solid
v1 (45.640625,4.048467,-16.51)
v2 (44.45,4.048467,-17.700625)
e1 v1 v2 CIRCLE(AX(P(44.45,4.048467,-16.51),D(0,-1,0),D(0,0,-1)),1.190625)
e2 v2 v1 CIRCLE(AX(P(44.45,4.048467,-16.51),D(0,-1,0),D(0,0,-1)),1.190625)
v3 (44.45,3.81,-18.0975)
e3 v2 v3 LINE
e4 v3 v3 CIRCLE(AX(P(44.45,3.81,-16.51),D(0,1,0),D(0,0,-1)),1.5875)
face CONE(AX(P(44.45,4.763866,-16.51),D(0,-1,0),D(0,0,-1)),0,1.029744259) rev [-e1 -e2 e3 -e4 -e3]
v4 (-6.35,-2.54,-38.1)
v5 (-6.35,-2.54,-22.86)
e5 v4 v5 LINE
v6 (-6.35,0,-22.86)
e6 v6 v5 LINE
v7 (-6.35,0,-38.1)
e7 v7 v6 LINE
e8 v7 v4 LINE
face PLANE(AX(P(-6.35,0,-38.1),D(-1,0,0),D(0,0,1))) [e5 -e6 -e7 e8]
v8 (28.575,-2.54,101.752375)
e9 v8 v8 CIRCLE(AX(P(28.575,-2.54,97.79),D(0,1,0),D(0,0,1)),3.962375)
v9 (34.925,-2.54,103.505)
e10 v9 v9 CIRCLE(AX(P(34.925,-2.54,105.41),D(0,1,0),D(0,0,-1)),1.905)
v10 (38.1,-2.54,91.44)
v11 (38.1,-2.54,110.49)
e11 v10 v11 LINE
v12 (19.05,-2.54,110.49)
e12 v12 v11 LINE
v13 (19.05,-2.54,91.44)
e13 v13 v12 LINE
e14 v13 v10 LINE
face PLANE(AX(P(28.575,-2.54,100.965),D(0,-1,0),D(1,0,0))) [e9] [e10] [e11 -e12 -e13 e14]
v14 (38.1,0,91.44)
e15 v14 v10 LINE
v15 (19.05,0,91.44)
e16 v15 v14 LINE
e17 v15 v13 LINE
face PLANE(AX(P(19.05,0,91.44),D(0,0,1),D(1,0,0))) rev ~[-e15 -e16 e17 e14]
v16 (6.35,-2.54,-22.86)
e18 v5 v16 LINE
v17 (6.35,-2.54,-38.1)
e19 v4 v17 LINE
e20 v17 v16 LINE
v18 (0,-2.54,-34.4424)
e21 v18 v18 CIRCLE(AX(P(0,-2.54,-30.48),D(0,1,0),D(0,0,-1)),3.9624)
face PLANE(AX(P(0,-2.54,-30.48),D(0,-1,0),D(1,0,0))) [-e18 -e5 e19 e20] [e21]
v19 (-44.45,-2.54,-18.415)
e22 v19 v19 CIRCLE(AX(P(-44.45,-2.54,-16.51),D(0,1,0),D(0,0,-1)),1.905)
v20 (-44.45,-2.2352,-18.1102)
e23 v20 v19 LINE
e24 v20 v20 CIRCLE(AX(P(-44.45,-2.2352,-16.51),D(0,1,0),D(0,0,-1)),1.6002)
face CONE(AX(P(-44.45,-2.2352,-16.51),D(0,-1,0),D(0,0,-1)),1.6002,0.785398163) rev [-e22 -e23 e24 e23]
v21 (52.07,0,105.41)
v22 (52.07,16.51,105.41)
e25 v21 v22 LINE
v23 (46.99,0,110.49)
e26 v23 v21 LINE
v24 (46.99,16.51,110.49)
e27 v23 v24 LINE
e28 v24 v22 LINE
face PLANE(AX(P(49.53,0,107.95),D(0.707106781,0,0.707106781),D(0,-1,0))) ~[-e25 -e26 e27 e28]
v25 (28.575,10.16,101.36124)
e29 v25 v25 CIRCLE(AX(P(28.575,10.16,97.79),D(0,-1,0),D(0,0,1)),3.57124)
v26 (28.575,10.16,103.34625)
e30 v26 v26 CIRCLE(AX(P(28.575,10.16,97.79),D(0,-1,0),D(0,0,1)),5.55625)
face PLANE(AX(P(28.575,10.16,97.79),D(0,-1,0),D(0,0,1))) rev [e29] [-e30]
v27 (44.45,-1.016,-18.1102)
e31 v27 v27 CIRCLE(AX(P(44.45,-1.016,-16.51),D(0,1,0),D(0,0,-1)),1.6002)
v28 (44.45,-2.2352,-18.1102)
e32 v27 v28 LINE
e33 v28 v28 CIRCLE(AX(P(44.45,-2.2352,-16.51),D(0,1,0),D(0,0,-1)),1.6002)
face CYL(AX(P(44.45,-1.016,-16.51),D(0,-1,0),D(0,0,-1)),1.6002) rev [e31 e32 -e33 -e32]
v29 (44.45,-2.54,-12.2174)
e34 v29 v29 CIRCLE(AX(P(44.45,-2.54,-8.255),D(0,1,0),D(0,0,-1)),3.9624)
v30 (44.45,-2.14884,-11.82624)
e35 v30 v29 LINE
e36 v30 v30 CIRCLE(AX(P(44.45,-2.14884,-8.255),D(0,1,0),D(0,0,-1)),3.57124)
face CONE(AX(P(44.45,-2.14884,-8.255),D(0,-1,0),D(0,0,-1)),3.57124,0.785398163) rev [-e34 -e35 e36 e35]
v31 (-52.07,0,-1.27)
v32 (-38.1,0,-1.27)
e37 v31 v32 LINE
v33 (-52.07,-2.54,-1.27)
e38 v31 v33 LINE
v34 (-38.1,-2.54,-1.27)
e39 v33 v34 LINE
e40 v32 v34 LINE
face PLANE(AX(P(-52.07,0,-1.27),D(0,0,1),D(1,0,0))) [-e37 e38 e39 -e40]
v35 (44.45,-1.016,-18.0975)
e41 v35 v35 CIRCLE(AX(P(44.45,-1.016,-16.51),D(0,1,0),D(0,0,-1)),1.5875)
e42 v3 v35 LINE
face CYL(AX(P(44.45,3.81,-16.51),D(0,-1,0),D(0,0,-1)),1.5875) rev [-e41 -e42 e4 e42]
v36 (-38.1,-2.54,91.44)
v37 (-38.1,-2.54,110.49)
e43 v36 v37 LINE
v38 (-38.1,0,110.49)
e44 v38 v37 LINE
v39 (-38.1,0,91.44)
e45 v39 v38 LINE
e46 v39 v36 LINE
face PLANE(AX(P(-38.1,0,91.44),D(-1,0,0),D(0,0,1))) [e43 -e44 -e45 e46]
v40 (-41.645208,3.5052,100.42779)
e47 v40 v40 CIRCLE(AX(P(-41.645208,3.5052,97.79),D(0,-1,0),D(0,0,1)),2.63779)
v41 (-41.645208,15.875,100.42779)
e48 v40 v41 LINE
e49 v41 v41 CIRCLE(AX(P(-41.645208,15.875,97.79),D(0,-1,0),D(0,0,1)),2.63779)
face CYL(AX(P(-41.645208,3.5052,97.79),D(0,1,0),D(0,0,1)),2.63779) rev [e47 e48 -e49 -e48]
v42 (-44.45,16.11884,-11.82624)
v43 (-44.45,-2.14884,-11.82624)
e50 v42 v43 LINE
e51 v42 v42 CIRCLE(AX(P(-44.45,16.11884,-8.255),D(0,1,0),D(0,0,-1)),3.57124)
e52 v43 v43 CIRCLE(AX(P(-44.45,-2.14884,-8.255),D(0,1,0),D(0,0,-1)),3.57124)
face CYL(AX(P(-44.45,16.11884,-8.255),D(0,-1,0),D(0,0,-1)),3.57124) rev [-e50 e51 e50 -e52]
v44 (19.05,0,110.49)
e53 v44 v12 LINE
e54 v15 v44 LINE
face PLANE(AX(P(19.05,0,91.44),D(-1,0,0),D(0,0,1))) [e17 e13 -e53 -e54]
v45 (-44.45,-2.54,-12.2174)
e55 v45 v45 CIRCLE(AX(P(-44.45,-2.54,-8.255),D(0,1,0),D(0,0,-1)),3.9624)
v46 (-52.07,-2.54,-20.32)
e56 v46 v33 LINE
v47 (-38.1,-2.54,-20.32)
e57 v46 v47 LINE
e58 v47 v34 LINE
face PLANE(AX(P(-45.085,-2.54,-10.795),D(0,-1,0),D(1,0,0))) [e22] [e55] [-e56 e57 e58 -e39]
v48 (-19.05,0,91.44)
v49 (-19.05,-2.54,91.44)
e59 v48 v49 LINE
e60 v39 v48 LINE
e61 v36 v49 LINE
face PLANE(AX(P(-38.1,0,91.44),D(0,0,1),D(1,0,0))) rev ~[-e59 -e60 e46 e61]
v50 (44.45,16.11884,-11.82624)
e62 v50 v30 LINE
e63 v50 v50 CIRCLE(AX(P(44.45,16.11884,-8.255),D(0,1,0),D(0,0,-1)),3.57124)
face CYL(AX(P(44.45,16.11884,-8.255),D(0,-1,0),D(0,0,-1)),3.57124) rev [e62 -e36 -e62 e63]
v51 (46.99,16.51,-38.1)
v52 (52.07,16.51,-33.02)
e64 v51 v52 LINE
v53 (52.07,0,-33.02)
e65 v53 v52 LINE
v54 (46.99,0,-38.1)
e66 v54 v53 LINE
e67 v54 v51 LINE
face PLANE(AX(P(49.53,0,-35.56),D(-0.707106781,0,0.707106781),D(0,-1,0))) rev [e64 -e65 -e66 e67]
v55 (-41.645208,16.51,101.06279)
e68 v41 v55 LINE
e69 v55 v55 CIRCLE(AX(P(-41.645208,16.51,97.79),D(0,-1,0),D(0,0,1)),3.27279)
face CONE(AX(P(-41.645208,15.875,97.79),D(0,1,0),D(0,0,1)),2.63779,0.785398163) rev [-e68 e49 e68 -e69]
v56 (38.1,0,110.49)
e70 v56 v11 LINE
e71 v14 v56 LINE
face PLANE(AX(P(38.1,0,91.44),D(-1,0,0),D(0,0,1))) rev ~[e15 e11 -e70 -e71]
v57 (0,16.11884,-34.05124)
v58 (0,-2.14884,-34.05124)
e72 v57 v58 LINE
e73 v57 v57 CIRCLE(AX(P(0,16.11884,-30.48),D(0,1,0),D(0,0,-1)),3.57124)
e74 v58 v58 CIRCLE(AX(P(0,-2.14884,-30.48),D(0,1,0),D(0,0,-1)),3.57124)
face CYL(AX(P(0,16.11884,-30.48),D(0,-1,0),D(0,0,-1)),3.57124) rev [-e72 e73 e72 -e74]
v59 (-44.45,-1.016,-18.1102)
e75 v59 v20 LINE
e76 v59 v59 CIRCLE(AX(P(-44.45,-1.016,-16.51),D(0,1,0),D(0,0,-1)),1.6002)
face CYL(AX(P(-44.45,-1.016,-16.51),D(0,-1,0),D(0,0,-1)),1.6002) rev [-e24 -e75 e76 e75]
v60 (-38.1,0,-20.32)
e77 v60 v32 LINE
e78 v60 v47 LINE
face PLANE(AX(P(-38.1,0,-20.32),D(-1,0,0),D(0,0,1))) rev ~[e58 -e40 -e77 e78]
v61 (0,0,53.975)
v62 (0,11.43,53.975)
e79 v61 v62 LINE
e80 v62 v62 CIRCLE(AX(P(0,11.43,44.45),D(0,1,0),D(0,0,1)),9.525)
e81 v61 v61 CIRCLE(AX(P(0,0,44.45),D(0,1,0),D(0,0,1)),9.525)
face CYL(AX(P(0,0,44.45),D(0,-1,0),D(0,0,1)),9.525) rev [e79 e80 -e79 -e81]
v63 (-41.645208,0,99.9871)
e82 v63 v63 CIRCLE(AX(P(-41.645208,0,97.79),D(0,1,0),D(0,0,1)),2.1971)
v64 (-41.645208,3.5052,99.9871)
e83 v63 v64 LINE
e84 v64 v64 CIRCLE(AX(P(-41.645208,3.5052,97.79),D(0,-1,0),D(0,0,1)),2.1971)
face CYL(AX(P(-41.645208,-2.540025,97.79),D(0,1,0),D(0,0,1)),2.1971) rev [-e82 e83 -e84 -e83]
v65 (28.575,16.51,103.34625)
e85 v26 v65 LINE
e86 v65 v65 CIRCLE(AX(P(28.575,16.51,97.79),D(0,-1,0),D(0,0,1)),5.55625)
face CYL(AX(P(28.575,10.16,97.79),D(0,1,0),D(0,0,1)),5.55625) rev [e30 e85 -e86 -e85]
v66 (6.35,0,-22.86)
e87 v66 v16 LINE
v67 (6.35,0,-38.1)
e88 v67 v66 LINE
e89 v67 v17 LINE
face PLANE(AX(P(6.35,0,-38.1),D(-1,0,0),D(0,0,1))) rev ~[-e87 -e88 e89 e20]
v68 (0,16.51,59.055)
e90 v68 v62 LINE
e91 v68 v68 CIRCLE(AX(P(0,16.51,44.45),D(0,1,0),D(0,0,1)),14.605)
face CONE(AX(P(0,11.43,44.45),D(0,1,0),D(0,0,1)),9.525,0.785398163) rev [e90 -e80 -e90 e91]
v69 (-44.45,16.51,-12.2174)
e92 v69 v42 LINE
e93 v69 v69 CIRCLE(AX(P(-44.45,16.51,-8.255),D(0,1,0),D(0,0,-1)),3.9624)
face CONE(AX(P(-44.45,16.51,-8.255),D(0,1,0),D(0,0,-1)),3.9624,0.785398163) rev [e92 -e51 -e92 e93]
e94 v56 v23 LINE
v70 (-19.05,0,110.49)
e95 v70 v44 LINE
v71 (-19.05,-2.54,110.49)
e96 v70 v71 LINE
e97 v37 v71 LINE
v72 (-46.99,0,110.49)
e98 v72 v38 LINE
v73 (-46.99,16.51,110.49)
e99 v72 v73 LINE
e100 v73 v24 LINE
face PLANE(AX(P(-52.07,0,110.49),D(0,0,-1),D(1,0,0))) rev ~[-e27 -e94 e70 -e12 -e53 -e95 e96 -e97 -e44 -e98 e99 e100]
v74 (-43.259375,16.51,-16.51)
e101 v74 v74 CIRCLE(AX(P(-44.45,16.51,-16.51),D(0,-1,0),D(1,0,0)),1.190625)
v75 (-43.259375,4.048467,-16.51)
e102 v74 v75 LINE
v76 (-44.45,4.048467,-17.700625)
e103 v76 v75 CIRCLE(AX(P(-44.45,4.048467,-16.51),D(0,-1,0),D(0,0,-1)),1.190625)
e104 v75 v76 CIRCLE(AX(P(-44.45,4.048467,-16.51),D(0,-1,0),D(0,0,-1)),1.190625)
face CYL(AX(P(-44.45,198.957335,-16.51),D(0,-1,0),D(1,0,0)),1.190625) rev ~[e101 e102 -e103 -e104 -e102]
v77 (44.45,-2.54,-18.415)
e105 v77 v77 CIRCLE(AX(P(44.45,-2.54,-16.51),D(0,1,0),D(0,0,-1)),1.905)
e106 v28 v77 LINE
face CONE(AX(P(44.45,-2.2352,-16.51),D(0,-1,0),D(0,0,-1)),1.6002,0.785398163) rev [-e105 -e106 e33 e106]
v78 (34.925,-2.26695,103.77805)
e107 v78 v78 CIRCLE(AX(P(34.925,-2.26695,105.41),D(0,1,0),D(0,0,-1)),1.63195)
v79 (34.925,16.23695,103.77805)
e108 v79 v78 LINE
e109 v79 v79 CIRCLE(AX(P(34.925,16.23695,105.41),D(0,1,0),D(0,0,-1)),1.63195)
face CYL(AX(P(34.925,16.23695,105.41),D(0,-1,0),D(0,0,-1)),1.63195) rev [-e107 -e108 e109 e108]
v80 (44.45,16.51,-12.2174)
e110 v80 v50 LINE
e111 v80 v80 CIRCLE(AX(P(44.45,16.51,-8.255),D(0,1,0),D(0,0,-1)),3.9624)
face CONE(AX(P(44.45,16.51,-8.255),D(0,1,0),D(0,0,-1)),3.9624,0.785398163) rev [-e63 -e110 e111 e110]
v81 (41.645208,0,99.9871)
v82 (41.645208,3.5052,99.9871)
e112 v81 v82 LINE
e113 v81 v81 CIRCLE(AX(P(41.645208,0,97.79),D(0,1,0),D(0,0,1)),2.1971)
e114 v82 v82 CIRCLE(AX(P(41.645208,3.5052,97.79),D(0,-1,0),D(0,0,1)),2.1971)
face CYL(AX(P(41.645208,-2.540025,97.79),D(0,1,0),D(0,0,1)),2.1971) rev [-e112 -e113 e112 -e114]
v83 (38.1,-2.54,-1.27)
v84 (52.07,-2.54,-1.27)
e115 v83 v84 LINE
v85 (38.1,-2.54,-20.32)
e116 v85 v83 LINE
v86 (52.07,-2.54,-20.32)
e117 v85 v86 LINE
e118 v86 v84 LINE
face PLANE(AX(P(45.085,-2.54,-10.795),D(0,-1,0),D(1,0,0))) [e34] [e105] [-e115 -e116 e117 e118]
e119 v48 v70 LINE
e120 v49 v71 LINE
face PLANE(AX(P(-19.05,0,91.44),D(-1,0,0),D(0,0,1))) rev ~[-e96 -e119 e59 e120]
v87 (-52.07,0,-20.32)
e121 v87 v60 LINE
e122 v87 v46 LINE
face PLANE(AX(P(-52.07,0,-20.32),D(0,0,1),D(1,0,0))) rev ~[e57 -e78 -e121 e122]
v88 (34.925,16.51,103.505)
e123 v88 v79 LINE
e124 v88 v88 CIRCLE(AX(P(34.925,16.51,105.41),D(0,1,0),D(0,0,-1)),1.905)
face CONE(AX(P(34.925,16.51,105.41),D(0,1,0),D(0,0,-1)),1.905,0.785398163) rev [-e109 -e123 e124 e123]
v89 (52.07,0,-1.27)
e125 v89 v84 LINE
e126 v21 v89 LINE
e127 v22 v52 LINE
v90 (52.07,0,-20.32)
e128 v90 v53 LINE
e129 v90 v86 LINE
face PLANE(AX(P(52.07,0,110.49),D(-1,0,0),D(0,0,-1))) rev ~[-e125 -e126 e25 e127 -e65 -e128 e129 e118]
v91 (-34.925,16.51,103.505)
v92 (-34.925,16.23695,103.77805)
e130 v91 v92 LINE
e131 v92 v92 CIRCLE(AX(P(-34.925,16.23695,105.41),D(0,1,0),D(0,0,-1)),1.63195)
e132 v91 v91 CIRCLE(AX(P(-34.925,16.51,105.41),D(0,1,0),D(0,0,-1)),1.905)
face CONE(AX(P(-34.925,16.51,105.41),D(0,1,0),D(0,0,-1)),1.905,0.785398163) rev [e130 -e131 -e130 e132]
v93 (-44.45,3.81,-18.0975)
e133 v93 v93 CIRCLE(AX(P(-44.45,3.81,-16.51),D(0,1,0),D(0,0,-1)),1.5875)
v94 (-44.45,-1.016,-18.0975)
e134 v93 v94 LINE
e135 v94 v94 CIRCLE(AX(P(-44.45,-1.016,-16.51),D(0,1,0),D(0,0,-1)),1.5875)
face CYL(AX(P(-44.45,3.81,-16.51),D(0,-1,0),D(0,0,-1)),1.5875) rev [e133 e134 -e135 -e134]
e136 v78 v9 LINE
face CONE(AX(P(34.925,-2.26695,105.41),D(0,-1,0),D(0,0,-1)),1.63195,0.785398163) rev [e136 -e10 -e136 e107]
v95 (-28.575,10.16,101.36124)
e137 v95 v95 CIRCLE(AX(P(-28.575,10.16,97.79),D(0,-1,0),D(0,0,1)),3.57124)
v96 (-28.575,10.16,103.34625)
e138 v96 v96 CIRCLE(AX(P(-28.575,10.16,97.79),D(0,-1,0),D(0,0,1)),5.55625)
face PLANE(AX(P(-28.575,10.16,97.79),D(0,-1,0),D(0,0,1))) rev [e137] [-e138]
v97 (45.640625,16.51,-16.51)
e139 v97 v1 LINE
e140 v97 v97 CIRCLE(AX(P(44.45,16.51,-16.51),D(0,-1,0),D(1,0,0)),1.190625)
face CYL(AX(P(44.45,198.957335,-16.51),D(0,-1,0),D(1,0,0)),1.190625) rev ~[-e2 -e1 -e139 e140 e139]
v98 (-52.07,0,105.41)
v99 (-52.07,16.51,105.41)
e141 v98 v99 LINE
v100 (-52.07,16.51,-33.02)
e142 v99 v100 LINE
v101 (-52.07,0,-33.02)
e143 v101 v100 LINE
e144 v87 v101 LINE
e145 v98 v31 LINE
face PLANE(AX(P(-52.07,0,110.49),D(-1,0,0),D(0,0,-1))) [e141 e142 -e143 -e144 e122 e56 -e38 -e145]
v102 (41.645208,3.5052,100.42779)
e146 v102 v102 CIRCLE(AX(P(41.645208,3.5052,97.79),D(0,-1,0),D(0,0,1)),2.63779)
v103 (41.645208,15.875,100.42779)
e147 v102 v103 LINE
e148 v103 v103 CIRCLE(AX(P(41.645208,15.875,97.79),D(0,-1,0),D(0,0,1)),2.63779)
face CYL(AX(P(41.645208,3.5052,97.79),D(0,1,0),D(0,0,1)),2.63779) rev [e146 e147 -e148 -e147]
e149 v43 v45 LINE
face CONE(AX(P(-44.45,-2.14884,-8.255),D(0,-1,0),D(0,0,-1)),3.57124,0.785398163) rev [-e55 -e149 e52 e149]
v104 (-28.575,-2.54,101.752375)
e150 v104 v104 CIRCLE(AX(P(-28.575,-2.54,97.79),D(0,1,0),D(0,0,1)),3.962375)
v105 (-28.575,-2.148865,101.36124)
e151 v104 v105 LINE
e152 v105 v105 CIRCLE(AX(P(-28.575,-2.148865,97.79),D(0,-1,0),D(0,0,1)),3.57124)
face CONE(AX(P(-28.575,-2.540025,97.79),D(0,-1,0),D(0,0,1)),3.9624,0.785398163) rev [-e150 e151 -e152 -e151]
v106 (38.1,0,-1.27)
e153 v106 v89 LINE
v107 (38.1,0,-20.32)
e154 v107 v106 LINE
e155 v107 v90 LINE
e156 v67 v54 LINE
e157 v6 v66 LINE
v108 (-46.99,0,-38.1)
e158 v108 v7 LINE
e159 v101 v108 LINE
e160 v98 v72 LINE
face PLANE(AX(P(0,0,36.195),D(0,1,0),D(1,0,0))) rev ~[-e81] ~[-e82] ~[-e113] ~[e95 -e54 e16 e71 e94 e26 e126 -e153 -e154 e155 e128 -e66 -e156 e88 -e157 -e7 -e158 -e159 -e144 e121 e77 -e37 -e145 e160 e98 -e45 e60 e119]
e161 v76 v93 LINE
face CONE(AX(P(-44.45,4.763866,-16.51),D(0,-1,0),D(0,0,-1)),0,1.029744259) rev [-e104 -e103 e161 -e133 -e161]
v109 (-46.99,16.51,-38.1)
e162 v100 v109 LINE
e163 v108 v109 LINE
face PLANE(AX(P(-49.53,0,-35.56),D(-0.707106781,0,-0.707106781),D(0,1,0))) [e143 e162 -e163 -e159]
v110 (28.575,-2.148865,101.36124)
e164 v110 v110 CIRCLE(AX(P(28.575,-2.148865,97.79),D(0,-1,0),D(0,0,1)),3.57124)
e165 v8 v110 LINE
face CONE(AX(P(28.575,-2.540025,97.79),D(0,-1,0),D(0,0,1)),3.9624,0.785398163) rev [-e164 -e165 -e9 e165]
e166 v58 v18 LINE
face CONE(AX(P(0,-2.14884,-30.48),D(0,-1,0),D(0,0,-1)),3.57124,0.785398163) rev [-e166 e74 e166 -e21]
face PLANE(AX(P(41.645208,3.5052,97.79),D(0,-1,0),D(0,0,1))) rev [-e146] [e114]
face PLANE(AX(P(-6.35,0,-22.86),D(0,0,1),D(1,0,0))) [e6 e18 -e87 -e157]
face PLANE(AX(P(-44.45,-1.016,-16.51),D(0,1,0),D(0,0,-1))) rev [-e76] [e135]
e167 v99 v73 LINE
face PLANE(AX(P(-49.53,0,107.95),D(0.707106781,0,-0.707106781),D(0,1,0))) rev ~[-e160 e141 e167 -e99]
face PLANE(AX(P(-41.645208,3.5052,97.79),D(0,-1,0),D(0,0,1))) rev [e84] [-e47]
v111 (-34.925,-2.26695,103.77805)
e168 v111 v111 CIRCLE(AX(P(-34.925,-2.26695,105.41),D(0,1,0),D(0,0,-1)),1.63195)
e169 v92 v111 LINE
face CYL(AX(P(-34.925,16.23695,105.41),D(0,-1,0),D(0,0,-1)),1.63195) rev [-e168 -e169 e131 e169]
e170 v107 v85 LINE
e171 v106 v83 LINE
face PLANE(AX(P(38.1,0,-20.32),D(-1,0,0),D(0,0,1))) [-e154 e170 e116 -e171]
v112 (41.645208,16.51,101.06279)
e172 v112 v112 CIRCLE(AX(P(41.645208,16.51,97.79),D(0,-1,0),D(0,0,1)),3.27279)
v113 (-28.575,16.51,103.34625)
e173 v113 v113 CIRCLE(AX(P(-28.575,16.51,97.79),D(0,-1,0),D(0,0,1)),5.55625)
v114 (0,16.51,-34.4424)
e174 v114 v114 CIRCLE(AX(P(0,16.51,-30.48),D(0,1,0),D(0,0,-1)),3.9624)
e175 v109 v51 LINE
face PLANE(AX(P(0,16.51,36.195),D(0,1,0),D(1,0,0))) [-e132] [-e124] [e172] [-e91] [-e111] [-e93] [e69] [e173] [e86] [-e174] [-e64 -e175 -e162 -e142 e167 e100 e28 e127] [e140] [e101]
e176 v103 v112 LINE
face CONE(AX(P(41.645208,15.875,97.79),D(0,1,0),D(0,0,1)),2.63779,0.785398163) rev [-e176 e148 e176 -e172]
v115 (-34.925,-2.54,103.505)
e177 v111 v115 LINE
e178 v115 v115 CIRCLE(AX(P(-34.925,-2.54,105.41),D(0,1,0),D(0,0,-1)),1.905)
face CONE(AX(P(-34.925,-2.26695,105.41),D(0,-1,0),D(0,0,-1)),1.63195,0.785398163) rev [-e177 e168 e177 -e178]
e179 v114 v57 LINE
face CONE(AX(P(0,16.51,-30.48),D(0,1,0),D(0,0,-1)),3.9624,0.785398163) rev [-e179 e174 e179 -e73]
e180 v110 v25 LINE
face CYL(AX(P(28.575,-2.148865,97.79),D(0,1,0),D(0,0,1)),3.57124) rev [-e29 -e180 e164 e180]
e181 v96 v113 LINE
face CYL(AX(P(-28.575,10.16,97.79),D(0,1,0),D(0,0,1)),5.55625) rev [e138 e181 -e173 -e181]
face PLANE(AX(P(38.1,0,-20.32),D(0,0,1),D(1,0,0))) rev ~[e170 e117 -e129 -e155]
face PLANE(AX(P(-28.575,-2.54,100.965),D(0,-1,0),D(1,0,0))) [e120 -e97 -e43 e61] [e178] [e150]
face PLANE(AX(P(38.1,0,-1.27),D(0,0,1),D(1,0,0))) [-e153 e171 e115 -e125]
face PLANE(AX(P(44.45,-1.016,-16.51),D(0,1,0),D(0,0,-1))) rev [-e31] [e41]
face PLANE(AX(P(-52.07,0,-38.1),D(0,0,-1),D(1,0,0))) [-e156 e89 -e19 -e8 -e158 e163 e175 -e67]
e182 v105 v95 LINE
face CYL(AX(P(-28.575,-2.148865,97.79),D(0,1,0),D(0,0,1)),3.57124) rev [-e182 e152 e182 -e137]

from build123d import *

# Parameters (mm, degrees)
SKETCH41_W                                    = 104.14
SKETCH41_H                                    = 148.59
SKETCH41_R                                    = 9.525
EXTRUDE16_DEPTH                               = 16.51
SKETCH42_W                                    = 19.05
SKETCH42_H                                    = 19.05
SKETCH42_W_2                                  = 13.97
SKETCH42_W_3                                  = 12.7
SKETCH42_H_2                                  = 15.24
EXTRUDE17_DEPTH                               = 2.54
F_1_4_CLEARANCE_HOLE3_AT_2_COUNT              = 2
F_1_4_CLEARANCE_HOLE3_AT_2_PITCH              = 88.9
F_1_4_CLEARANCE_HOLE3_AT_3_COUNT              = 2
F_1_4_CLEARANCE_HOLE3_AT_3_PITCH              = 49.6966108
PRESS_PIN_HOLES_FOR_MAGNET_BRACKET_P_2_COUNT  = 2
PRESS_PIN_HOLES_FOR_MAGNET_BRACKET_P_2_PITCH  = 88.9
F_3_32_0_09375_DIAMETER_HOLE1_D               = 2.38125
CBORE_FOR_1_4_SOCKET_HEAD_CAP_SCREW1_AT_COUNT = 2
CBORE_FOR_1_4_SOCKET_HEAD_CAP_SCREW1_AT_PITCH = 57.15
F_1_8_0_125_DIAMETER_HOLE1_AT_2_COUNT         = 2
F_1_8_0_125_DIAMETER_HOLE1_AT_2_PITCH         = 69.85
TAPPED_HOLE_FOR_8_32_HELICOIL1_AT_2_COUNT     = 2
TAPPED_HOLE_FOR_8_32_HELICOIL1_AT_2_PITCH     = 83.29041666
CHAMFER1_SIZE                                 = 5.08


with BuildPart() as part:
    # Sketch41 → Extrude16 (new body)
    with BuildSketch(Plane(origin=(0, 0, 0), x_dir=(1, 0, 0), z_dir=(0, 1, 0))):
        with Locations((0, -36.195)):
            Rectangle(SKETCH41_W, SKETCH41_H)
        with Locations(Location((0, -44.45, 0), (0, 0, 270))):  # turned: the seam where the file's is
            Circle(SKETCH41_R, mode=Mode.SUBTRACT)
    extrude(amount=EXTRUDE16_DEPTH)

    # Sketch42 → Extrude17 (add)
    with BuildSketch(Plane.XZ):
        with Locations((-28.575, 100.965)):
            Rectangle(SKETCH42_W, SKETCH42_H)
        with Locations((45.085, -10.795)):
            Rectangle(SKETCH42_W_2, SKETCH42_H)
        with Locations((0, -30.48)):
            Rectangle(SKETCH42_W_3, SKETCH42_H_2)
        with Locations((-45.085, -10.795)):
            Rectangle(SKETCH42_W_2, SKETCH42_H)
        with Locations((28.575, 100.965)):
            Rectangle(SKETCH42_W, SKETCH42_H)
    extrude(amount=EXTRUDE17_DEPTH)

    # Sketch43 → 1/4 Clearance Hole3 (revolve, cut)
    with BuildSketch(Plane(origin=(-44.45, -2.54, -8.255), x_dir=(0, 0, -1), z_dir=(1, 0, 0))):
        Polygon((0, 0), (0, 19.05), (3.9624, 19.05), (3.57124, 18.65884), (3.57124, 0.39116), (3.9624, 0), align=None)
    f_1_4_clearance_hole3 = revolve(axis=Axis((-44.45, -8.89, -8.255), (0, 1, 0)), mode=Mode.SUBTRACT)

    # 1/4 Clearance Hole3 at 2: 1/4 Clearance Hole3 ×2
    with Locations(*[(i * F_1_4_CLEARANCE_HOLE3_AT_2_PITCH, 0, 0) for i in range(1, F_1_4_CLEARANCE_HOLE3_AT_2_COUNT)]):
        add(f_1_4_clearance_hole3, mode=Mode.SUBTRACT)

    # 1/4 Clearance Hole3 at 3: 1/4 Clearance Hole3 ×2
    with Locations(*[Vector(0.894427191, 0, -0.447213595) * (i * F_1_4_CLEARANCE_HOLE3_AT_3_PITCH) for i in range(1, F_1_4_CLEARANCE_HOLE3_AT_3_COUNT)]):
        add(f_1_4_clearance_hole3, mode=Mode.SUBTRACT)

    # Sketch39 → Press Pin holes for Magnet Bracket Pins (revolve, cut)
    with BuildSketch(Plane(origin=(-44.45, -2.54, -16.51), x_dir=(0, 0, -1), z_dir=(1, 0, 0))):
        Polygon((0, 0), (0, 7.303866233), (1.5875, 6.35), (1.5875, 1.524), (1.6002, 1.524), (1.6002, 0.3048), (1.905, 0), align=None)
    press_pin_holes_for_magnet_bracket_pins = revolve(axis=Axis((-44.45, -8.89, -16.51), (0, 1, 0)), mode=Mode.SUBTRACT)

    # Press Pin holes for Magnet Bracket P 2: Press Pin holes for Magnet Bracket Pins ×2
    with Locations(*[(i * PRESS_PIN_HOLES_FOR_MAGNET_BRACKET_P_2_PITCH, 0, 0) for i in range(1, PRESS_PIN_HOLES_FOR_MAGNET_BRACKET_P_2_COUNT)]):
        add(press_pin_holes_for_magnet_bracket_pins, mode=Mode.SUBTRACT)

    # 3/32 (0.09375) Diameter Hole1 (through all)
    with Locations(Plane(origin=(0, 16.51, 0), x_dir=(-1, 0, 0), z_dir=(0, 1, 0))):
        with Locations((44.45, -16.51), (-44.45, -16.51)):
            Hole(F_3_32_0_09375_DIAMETER_HOLE1_D / 2)

    # Sketch7 → CBORE for 1/4 Socket Head Cap Screw1 (revolve, cut)
    with BuildSketch(Plane(origin=(-28.575, 16.51, 97.79), x_dir=(0, 0, 1), z_dir=(1, 0, 0))):
        Polygon((0, 0), (0, 19.050025), (3.9624, 19.050025), (3.57124, 18.658865), (3.57124, 6.35), (5.55625, 6.35), (5.55625, 0), align=None)
    cbore_for_1_4_socket_head_cap_screw1 = revolve(axis=Axis((-28.575, 22.86, 97.79), (0, -1, 0)), mode=Mode.SUBTRACT)

    # CBORE for 1/4 Socket Head Cap Screw1 at: CBORE for 1/4 Socket Head Cap Screw1 ×2
    with Locations(*[(i * CBORE_FOR_1_4_SOCKET_HEAD_CAP_SCREW1_AT_PITCH, 0, 0) for i in range(1, CBORE_FOR_1_4_SOCKET_HEAD_CAP_SCREW1_AT_COUNT)]):
        add(cbore_for_1_4_socket_head_cap_screw1, mode=Mode.SUBTRACT)

    # Sketch45 → 1/8 (0.125) Diameter Hole1 (revolve, cut)
    with BuildSketch(Plane(origin=(-34.925, -2.54, 105.41), x_dir=(0, 0, -1), z_dir=(1, 0, 0))):
        Polygon((0, 0), (0, 19.05), (1.905, 19.05), (1.63195, 18.77695), (1.63195, 0.27305), (1.905, 0), align=None)
    f_1_8_0_125_diameter_hole1 = revolve(axis=Axis((-34.925, -8.89, 105.41), (0, 1, 0)), mode=Mode.SUBTRACT)

    # 1/8 (0.125) Diameter Hole1 at 2: 1/8 (0.125) Diameter Hole1 ×2
    with Locations(*[(i * F_1_8_0_125_DIAMETER_HOLE1_AT_2_PITCH, 0, 0) for i in range(1, F_1_8_0_125_DIAMETER_HOLE1_AT_2_COUNT)]):
        add(f_1_8_0_125_diameter_hole1, mode=Mode.SUBTRACT)

    # Sketch37 → Tapped Hole for #8-32 Helicoil1 (revolve, cut)
    with BuildSketch(Plane(origin=(-41.64520833, 16.51, 97.79), x_dir=(0, 0, 1), z_dir=(1, 0, 0))):
        Polygon((0, 0), (0, 19.050025), (2.1971, 19.050025), (2.1971, 13.0048), (2.63779, 13.0048), (2.63779, 0.635), (3.27279, 0), align=None)
    tapped_hole_for_8_32_helicoil1 = revolve(axis=Axis((-41.64520833, 22.86, 97.79), (0, -1, 0)), mode=Mode.SUBTRACT)

    # Tapped Hole for #8-32 Helicoil1 at 2: Tapped Hole for #8-32 Helicoil1 ×2
    with Locations(*[(i * TAPPED_HOLE_FOR_8_32_HELICOIL1_AT_2_PITCH, 0, 0) for i in range(1, TAPPED_HOLE_FOR_8_32_HELICOIL1_AT_2_COUNT)]):
        add(tapped_hole_for_8_32_helicoil1, mode=Mode.SUBTRACT)

    # Chamfer1
    chamfer1_edges = [part.edges().sort_by_distance(p)[0] for p in [
        (52.07, 8.255, 110.49),
        (-52.07, 8.255, 110.49),
        (-52.07, 8.255, -38.1),
        (52.07, 8.255, -38.1),
        (0, 16.51, 34.925),
    ]]
    chamfer(chamfer1_edges, length=CHAMFER1_SIZE)


solid = part.part
